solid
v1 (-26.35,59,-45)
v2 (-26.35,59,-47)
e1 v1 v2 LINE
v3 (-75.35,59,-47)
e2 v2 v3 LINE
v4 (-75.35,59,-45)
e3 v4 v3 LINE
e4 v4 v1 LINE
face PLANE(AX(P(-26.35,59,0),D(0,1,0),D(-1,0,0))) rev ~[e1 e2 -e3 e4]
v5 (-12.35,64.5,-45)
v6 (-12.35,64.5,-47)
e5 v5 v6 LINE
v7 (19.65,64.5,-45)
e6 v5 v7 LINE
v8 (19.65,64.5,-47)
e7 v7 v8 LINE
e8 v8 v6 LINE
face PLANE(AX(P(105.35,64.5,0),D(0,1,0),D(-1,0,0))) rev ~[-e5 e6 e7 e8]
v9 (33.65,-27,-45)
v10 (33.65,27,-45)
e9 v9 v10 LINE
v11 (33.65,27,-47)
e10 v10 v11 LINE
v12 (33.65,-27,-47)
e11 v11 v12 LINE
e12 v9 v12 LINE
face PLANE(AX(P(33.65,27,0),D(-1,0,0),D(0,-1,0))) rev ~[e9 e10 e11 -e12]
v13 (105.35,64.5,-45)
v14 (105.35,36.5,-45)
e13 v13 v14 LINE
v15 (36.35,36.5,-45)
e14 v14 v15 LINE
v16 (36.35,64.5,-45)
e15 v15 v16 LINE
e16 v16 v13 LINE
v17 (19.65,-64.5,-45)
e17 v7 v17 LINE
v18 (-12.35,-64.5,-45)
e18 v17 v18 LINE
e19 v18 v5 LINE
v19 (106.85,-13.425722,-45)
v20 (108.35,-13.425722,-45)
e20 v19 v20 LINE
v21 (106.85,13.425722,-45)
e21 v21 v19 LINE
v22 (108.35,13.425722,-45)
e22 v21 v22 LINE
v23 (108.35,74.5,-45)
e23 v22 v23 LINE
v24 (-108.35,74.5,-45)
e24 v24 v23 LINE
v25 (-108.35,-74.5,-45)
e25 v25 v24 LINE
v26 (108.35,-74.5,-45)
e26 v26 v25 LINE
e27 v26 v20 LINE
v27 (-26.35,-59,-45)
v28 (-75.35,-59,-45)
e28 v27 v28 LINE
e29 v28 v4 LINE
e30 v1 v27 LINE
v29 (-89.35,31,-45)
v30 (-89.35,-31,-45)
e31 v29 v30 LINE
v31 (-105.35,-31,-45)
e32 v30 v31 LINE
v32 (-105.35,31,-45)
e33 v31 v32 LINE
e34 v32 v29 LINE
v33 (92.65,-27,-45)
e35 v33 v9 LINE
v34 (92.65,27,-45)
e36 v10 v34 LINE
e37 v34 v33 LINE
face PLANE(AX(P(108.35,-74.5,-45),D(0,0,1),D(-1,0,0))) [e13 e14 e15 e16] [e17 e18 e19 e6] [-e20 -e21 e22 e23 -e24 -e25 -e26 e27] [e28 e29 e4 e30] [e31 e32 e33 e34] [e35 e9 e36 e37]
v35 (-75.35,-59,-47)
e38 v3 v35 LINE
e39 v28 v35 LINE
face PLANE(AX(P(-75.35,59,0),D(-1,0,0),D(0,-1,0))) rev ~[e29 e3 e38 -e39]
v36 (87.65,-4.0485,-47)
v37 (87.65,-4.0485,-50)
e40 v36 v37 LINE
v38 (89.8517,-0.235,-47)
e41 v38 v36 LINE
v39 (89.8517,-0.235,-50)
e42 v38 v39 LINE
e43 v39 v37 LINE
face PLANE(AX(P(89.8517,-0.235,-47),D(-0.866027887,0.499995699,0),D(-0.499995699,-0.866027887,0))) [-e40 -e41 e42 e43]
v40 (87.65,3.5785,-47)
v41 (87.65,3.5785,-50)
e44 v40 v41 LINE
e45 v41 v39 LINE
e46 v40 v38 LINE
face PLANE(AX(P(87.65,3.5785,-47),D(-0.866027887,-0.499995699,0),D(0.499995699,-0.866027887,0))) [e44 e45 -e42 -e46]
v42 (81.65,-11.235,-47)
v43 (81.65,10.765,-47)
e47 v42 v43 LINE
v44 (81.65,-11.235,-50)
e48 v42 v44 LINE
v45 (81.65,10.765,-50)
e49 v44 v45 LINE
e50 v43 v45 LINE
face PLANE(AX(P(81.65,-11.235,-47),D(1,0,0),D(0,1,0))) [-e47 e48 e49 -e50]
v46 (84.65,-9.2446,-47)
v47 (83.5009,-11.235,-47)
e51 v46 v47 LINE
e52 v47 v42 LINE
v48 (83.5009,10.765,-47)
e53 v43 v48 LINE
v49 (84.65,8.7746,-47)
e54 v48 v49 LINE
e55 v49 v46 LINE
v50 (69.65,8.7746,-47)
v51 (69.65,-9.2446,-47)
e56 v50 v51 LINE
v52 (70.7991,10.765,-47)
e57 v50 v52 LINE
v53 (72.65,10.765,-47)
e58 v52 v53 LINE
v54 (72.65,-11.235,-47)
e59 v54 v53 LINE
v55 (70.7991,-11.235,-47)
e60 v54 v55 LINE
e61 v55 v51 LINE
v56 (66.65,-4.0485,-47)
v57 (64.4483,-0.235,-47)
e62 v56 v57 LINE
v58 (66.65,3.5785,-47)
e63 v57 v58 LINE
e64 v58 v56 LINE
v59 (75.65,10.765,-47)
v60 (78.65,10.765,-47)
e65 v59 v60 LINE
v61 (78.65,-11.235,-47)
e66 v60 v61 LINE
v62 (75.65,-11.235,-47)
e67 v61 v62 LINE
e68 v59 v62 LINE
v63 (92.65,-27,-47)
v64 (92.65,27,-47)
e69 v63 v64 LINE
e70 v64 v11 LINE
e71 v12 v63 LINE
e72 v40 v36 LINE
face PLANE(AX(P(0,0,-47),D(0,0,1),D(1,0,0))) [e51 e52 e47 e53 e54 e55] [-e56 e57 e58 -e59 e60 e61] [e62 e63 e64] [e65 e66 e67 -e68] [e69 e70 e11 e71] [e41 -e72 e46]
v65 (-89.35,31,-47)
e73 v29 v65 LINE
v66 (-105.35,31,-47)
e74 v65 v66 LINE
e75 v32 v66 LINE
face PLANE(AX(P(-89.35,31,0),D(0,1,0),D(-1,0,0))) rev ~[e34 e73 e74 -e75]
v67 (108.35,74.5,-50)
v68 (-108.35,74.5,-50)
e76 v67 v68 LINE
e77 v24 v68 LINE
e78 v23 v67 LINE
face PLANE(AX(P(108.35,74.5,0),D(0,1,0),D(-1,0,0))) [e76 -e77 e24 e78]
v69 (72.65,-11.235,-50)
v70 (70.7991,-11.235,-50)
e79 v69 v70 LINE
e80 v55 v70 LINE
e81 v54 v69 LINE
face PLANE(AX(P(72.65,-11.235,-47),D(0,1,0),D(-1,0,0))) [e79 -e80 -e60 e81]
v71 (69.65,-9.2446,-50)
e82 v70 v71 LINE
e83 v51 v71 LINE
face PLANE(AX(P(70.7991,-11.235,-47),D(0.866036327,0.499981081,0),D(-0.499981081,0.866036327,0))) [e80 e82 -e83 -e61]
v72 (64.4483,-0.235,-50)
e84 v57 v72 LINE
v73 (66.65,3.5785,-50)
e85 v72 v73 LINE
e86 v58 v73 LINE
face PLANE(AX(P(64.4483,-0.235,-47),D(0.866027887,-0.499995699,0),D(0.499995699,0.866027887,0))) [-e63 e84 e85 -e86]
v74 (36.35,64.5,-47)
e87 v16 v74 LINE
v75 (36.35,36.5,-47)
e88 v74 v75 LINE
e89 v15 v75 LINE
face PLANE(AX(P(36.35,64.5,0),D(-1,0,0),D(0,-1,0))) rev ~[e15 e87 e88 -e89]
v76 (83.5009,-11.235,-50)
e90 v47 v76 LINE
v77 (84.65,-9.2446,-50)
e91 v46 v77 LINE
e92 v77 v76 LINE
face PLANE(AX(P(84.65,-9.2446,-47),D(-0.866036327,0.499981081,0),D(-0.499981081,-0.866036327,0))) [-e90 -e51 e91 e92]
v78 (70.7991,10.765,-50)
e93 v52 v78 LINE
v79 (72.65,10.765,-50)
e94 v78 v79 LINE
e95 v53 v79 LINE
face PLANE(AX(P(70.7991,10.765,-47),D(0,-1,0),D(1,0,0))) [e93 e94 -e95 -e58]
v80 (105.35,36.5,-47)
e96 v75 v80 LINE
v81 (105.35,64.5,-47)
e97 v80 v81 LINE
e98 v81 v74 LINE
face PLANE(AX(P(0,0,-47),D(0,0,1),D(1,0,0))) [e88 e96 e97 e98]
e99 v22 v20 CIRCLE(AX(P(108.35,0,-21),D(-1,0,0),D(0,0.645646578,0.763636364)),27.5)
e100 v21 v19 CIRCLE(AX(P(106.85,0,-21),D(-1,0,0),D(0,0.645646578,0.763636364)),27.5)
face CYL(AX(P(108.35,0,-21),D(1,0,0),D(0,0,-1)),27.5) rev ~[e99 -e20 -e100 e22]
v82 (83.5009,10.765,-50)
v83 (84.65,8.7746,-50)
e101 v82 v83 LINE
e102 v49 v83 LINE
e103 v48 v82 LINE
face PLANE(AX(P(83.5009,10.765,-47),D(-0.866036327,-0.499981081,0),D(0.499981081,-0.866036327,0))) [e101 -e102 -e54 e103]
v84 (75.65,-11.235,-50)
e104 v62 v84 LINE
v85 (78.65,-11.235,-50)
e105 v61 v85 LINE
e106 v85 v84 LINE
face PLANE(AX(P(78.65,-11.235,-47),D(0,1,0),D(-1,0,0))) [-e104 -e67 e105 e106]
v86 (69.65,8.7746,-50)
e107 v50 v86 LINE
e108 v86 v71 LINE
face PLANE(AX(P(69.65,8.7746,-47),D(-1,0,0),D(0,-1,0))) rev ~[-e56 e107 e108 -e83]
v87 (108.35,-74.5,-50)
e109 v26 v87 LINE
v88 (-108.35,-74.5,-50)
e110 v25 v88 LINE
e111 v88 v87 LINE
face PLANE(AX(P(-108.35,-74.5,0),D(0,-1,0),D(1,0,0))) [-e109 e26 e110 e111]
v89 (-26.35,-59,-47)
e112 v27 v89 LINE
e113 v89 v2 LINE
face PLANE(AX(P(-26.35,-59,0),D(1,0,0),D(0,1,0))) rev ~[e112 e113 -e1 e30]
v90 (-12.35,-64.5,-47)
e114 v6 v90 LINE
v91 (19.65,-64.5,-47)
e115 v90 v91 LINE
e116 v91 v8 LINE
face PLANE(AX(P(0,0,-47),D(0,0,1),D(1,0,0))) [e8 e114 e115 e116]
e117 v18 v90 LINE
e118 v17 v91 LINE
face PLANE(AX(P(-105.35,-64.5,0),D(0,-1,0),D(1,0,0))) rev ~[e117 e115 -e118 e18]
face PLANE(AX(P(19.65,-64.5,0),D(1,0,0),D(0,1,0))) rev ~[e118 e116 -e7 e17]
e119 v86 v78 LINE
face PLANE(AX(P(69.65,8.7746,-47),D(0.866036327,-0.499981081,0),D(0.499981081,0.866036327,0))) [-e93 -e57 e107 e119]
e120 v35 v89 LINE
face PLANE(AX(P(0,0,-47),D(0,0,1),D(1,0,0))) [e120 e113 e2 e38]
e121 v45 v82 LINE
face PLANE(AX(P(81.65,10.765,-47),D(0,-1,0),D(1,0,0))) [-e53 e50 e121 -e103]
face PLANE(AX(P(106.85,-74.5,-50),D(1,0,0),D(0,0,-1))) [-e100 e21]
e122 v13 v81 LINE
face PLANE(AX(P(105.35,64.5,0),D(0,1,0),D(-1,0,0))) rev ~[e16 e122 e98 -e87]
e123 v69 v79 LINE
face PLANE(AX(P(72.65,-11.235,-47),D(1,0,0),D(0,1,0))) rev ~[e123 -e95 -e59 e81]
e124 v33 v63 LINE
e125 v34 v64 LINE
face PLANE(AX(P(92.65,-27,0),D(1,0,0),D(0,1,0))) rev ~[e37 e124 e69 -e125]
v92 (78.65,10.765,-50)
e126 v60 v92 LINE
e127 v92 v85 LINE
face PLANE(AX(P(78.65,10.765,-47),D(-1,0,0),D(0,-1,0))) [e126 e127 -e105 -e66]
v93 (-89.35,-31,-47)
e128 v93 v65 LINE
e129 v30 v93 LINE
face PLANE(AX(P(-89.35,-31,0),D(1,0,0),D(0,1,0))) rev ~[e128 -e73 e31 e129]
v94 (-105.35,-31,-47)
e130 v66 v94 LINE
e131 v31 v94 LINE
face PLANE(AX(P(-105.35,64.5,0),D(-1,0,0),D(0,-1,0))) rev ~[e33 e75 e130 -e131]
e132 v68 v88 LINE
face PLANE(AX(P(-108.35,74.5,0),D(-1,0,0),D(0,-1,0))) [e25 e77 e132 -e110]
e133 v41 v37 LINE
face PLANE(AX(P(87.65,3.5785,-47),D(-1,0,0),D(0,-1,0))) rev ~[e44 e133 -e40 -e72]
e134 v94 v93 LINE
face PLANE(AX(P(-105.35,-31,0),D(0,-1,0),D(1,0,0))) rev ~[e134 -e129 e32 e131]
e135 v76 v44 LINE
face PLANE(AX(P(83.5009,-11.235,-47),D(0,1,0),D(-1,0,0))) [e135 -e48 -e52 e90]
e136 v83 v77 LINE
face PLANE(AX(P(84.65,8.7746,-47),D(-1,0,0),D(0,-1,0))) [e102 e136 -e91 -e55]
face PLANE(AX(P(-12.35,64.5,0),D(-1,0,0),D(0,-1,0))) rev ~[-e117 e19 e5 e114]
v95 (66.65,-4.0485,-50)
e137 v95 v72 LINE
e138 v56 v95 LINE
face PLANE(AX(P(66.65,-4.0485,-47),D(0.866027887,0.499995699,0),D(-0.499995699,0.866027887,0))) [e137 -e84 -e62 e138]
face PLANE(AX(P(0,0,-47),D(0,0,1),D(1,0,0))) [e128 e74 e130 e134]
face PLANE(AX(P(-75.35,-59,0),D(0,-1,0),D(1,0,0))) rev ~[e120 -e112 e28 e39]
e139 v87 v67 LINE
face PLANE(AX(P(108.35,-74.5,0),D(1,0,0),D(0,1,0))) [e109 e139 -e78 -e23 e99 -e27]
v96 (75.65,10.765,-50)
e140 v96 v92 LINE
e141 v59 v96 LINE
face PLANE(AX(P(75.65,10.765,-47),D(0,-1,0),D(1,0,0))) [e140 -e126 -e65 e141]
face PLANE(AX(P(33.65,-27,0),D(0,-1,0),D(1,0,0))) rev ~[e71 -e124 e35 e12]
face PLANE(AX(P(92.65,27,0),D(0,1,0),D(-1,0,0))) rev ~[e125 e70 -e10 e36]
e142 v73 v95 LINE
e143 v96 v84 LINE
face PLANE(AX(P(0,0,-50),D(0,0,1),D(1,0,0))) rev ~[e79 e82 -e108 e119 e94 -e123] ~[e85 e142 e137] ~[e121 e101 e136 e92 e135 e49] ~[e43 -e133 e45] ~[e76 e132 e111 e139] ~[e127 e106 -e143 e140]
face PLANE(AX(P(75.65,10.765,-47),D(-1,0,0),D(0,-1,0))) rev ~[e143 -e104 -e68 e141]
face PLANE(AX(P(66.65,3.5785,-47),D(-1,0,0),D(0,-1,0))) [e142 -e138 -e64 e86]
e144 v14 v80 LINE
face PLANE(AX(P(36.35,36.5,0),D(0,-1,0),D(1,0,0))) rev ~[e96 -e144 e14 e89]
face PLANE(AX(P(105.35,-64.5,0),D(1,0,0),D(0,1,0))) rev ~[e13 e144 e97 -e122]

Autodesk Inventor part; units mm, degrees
ref_plane "YZ Plane" through (0, 0, 0) normal (1, 0, 0) x (0, 1, 0)
ref_plane "XZ Plane" through (0, 0, 0) normal (0, 1, 0) x (-1, 0, 0)
ref_plane "XY Plane" through (0, 0, 0) normal (0, 0, 1) x (1, 0, 0)
sketch "Sketch1" plane through (0, 0, 0) normal (0, 0, 1) x (1, 0, 0)
  line L0 (-108.35, -74.5) -> (108.35, -74.5)
  line L1 (108.35, -74.5) -> (108.35, 74.5)
  line L2 (108.35, 74.5) -> (-108.35, 74.5)
  line L3 (-108.35, 74.5) -> (-108.35, -74.5)
  line L4 (-108.35, -74.5) -> (108.35, 74.5) construction
  line L5 (108.35, -74.5) -> (-108.35, 74.5) construction
  point P0 (0, 0)
  dimension "d0" = 216.7
  dimension "d1" = 149
extrude "MainInnerBodyExtrusion" add sketch "Sketch1" against normal blind 50
sketch "Sketch3" plane through (0, 0, 0) normal (0, 0, 1) x (1, 0, 0)
  line L0 (33.65, -27) -> (92.65, -27)
  line L1 (92.65, -27) -> (92.65, 27)
  line L2 (92.65, 27) -> (33.65, 27)
  line L3 (33.65, 27) -> (33.65, -27)
  line L4 (33.65, -27) -> (92.65, 27) construction
  line L5 (92.65, -27) -> (33.65, 27) construction
  line L6 (108.35, -74.5) -> (108.35, 74.5) projected
  line L7 (0, 0) -> (108.35, 0) construction
  line L8 (-108.35, -74.5) -> (-108.35, 74.5) construction
  line L9 (-108.35, 74.5) -> (-108.35, -74.5) projected
  point P0 (63.15, 0)
  point P1 (63.15, 0)
  dimension "d5" = 15.7
  dimension "d6" = 54
  dimension "d7" = 59
extrude "HoleForCamerabase" cut sketch "Sketch3" against normal blind 47
sketch "Sketch4" plane through (0, 0, 0) normal (0, 0, 1) x (1, 0, 0)
  line L0 (0, 0) -> (-108.35, 0) construction
  line L1 (-108.35, -74.5) -> (-108.35, 74.5) construction
  line L2 (-105.35, -31) -> (-89.35, -31)
  line L3 (-89.35, -31) -> (-89.35, 31)
  line L4 (-89.35, 31) -> (-105.35, 31)
  line L5 (-105.35, 31) -> (-105.35, -31)
  line L6 (-105.35, -31) -> (-89.35, 31) construction
  line L7 (-89.35, -31) -> (-105.35, 31) construction
  point P0 (-97.35, 0)
  dimension "d13" = 16
  dimension "d14" = 62
  dimension "d15" = 3
extrude "HoleForFan" cut sketch "Sketch4" against normal blind 47
sketch "Sketch6" plane through (0, 0, 0) normal (0, 0, 1) x (1, 0, 0)
  line L0 (-108.35, -74.5) -> (-108.35, 74.5) construction
  line L1 (-108.35, 0) -> (108.35, 0) construction
  line L2 (108.35, 74.5) -> (108.35, -74.5) construction
  line L3 (-12.35, -64.5) -> (19.65, -64.5)
  line L4 (19.65, -64.5) -> (19.65, 64.5)
  line L5 (19.65, 64.5) -> (-12.35, 64.5)
  line L6 (-12.35, 64.5) -> (-12.35, -64.5)
  line L7 (-12.35, -64.5) -> (19.65, 64.5) construction
  line L8 (19.65, -64.5) -> (-12.35, 64.5) construction
  line L9 (33.65, -27) -> (33.65, 27) projected
  point P0 (0, 0)
  point P1 (3.65, 0)
  dimension "d20" = 32
  dimension "d21" = 129
  dimension "d88" = 14
extrude "HoleForPi" cut sketch "Sketch6" against normal blind 47
sketch "Sketch7" plane through (0, 0, 0) normal (0, 0, 1) x (1, 0, 0)
  line L0 (0, 0) -> (-108.35, 0) construction
  line L1 (-108.35, 74.5) -> (-108.35, -74.5) construction
  line L2 (-75.35, -59) -> (-26.35, -59)
  line L3 (-26.35, -59) -> (-26.35, 59)
  line L4 (-26.35, 59) -> (-75.35, 59)
  line L5 (-75.35, 59) -> (-75.35, -59)
  line L6 (-75.35, -59) -> (-26.35, 59) construction
  line L7 (-26.35, -59) -> (-75.35, 59) construction
  line L8 (-12.35, -64.5) -> (-12.35, 64.5) projected
  line L9 (-89.35, 31) -> (-89.35, -31) construction
  point P0 (-50.85, 0)
  dimension "d25" = 14
  dimension "d26" = 49
  dimension "d27" = 118
extrude "HoleForPoeAdapter" cut sketch "Sketch7" against normal blind 47
sketch "Sketch10" plane through (0, 0, 0) normal (0, 0, 1) x (1, 0, 0)
  line L0 (36.35, 36.5) -> (105.35, 36.5)
  line L1 (105.35, 36.5) -> (105.35, 64.5)
  line L2 (105.35, 64.5) -> (36.35, 64.5)
  line L3 (36.35, 64.5) -> (36.35, 36.5)
  line L4 (36.35, 36.5) -> (105.35, 64.5) construction
  line L5 (105.35, 36.5) -> (36.35, 64.5) construction
  line L6 (108.35, 74.5) -> (-108.35, 74.5) projected
  line L7 (108.35, -74.5) -> (108.35, 74.5) projected
  point P0 (0, 0)
  point P1 (70.85, 50.5)
  point P2 (94.85, 8.5)
  point P3 (105.35, 50.5)
  dimension "d36" = 69
  dimension "d37" = 28
  dimension "d85" = 3
extrude "HoleForThermister" cut sketch "Sketch10" against normal blind 47
sketch "Sketch11" plane through (0, 0, 0) normal (0, 0, 1) x (1, 0, 0)
  line L0 (55.35, -64.5) -> (105.35, -64.5)
  line L1 (105.35, -64.5) -> (105.35, -47.5)
  line L2 (105.35, -47.5) -> (55.35, -47.5)
  line L3 (55.35, -47.5) -> (55.35, -64.5)
  line L4 (55.35, -64.5) -> (105.35, -47.5) construction
  line L5 (105.35, -64.5) -> (55.35, -47.5) construction
  line L6 (108.35, -74.5) -> (108.35, 74.5) projected
  line L7 (-108.35, -74.5) -> (108.35, -74.5) projected
  line L8 (92.65, -27) -> (33.65, -27) projected
  line L9 (19.65, 64.5) -> (19.65, -64.5) projected
  point P0 (0, 0)
  point P1 (80.35, -56)
  point P2 (94.85, -8.5)
  point P3 (80.35, -47.5)
  point P4 (55.35, -56)
  point P5 (108.35, 74.5)
  dimension "d42" = 50
  dimension "d43" = 17
  dimension "d86" = 3
  dimension "d87" = 10
extrude "HoleForSensor" cut sketch "Sketch11" against normal blind 31.5
sketch "Sketch15" plane through (-108.35, -74.5, 0) normal (-1, 0, 0) x (0, 0, 1)
  line L0 (0, 149) -> (0, 0) projected
  line L1 (0, 149) -> (-50, 149) projected
  line L2 (-50, 0) -> (-50, 149) projected
  line L3 (0, 0) -> (-50, 0) projected
  line L4 (0, 0) -> (0, 149) projected
  line L5 (0, 101.5) -> (0, 47.5) projected
  line L6 (0, 74.5) -> (-30, 74.5) construction
  line L7 (0, 76.5) -> (-29.9333, 76.5)
  line L8 (0, 84.5) -> (-28.2843, 84.5)
  line L9 (0, 80.5) -> (-29.3939, 80.5)
  line L10 (0, 76.5) -> (0, 74.5)
  line L11 (0, 88.5) -> (-26.533, 88.5)
  line L12 (0, 92.5) -> (-24, 92.5)
  line L13 (-20.5913, 97.5) -> (0, 97.5)
  line L14 (-14.9666, 101.5) -> (0, 101.5)
  line L15 (0, 84.5) -> (0, 80.5)
  line L16 (0, 101.5) -> (0, 97.5)
  line L17 (0, 92.5) -> (0, 88.5)
  line L18 (0, 72.5) -> (-29.9333, 72.5)
  line L19 (0, 64.5) -> (-28.2843, 64.5)
  line L20 (0, 68.5) -> (-29.3939, 68.5)
  line L21 (0, 72.5) -> (0, 74.5)
  line L22 (0, 60.5) -> (-26.533, 60.5)
  line L23 (0, 56.5) -> (-24, 56.5)
  line L24 (-20.5913, 51.5) -> (0, 51.5)
  line L25 (-14.9666, 47.5) -> (0, 47.5)
  line L26 (0, 64.5) -> (0, 68.5)
  line L27 (0, 56.5) -> (0, 60.5)
  line L28 (0, 47.5) -> (0, 51.5)
  line L29 (0, 72.5) -> (0, 76.5)
  line L30 (0, 80.5) -> (0, 84.5)
  line L31 (0, 88.5) -> (0, 92.5)
  line L32 (0, 97.5) -> (0, 149)
  arc A0 (-28.2843, 84.5) -> (-29.3939, 80.5) centre (0, 74.5) ccw
  arc A1 (-14.9666, 101.5) -> (-20.5913, 97.5) centre (0, 74.5) ccw
  arc A2 (-24, 92.5) -> (-26.533, 88.5) centre (0, 74.5) ccw
  arc A3 (-29.9333, 76.5) -> (-29.9333, 72.5) centre (0, 74.5) ccw
  arc A4 (-29.3939, 68.5) -> (-28.2843, 64.5) centre (0, 74.5) ccw
  arc A5 (-26.533, 60.5) -> (-24, 56.5) centre (0, 74.5) ccw
  arc A6 (-20.5913, 51.5) -> (-14.9666, 47.5) centre (0, 74.5) ccw
  point P0 (0, 74.5)
  point P1 (0, 82)
  point P2 (0, 67.0167)
  point P3 (0, 4.25)
  point P4 (-10.2956, 97.5)
  point P5 (0, 47.5)
  point P6 (0, 51.5)
  point P7 (0, 56.5)
  point P8 (0, 60.5)
  point P9 (0, 64.5)
  point P10 (0, 68.5)
  point P11 (0, 72.5)
  point P12 (0, 80.5)
  point P13 (0, 84.5)
  point P14 (0, 88.5)
  point P15 (0, 92.5)
  point P16 (0, 97.5)
  dimension "d69" = 2
  dimension "d71" = 4
  dimension "d72" = 4
  dimension "d73" = 4
  dimension "d75" = 4
  dimension "d142" = 30
extrude "SlotsForRearFan" cut sketch "Sketch15" against normal up to surface (3 mm away) contours L0 L13 A1 L14 | L0 L11 A2 L12 | L25 A6 L24 L0 | L0 L9 A0 L8 | L23 A5 L22 L0 | L0 L18 A3 L7 | L19 A4 L20 L0
sketch "Sketch16" plane through (0, 0, -47) normal (0, 0, 1) x (1, 0, 0)
  line L0 (92.65, 27) -> (92.65, -27) projected
  line L1 (77.15, 10.765) -> (77.15, -11.235) construction
  line L2 (75.65, 10.765) -> (75.65, -11.235)
  line L3 (72.65, -11.235) -> (72.65, 10.765)
  line L4 (69.65, 8.7746) -> (69.65, -9.2446)
  line L5 (66.65, 3.5785) -> (66.65, -4.0485)
  line L6 (78.65, 10.765) -> (78.65, -11.235)
  line L7 (81.65, -11.235) -> (81.65, 10.765)
  line L8 (84.65, 8.7746) -> (84.65, -9.2446)
  line L9 (87.65, 3.5785) -> (87.65, -4.0485)
  line L10 (70.7991, 10.765) -> (72.65, 10.765)
  line L11 (72.65, -11.235) -> (70.7991, -11.235)
  line L12 (70.7991, -11.235) -> (69.65, -9.2446)
  line L13 (66.65, -4.0485) -> (64.4483, -0.235)
  line L14 (64.4483, -0.235) -> (66.65, 3.5785)
  line L15 (69.65, 8.7746) -> (70.7991, 10.765)
  line L16 (75.65, 10.765) -> (78.65, 10.765)
  line L17 (81.65, 10.765) -> (83.5009, 10.765)
  line L18 (83.5009, -11.235) -> (81.65, -11.235)
  line L19 (78.65, -11.235) -> (75.65, -11.235)
  line L20 (89.8517, -0.235) -> (87.65, -4.0485)
  line L21 (84.65, -9.2446) -> (83.5009, -11.235)
  line L22 (83.5009, 10.765) -> (84.65, 8.7746)
  line L23 (87.65, 3.5785) -> (89.8517, -0.235)
  point P0 (0, 0)
  point P1 (77.15, -0.235)
  point P2 (66.65, -0.235)
  dimension "d78" = 15.5
  dimension "d89" = 1.5
  dimension "d90" = 3
  dimension "d91" = 3
  dimension "d92" = 3
extrude "VentForCamera" cut sketch "Sketch16" against normal through all
sketch "Sketch18" plane through (108.35, -74.5, 0) normal (1, 0, 0) x (0, 0, -1)
  line L0 (0, 74.5) -> (29.6767, 74.5) construction
  arc A0 (24, 66.5) -> (24, 82.5) centre (24, 74.5) ccw
  line L1 (0, 0) -> (0, 149) projected
  line L2 (24, 82.5) -> (0, 82.5)
  line L3 (24, 66.5) -> (0, 66.5)
  line L4 (0, 82.5) -> (0, 66.5)
  point P0 (0, 74.5)
  dimension "d97" = 16
  dimension "d137" = 24
extrude "HoleForLens" cut sketch "Sketch18" against normal up to surface (15.7 mm away)
sketch "Sketch23" plane through (0, 0, 0) normal (0, 0, 1) x (1, 0, 0)
  line L0 (-103.35, -69.5) -> (103.35, -69.5) construction
  line L1 (103.35, -69.5) -> (103.35, 69.5) construction
  line L2 (103.35, 69.5) -> (-103.35, 69.5) construction
  line L3 (-103.35, 69.5) -> (-103.35, -69.5) construction
  line L4 (-103.35, -69.5) -> (103.35, 69.5) construction
  line L5 (103.35, -69.5) -> (-103.35, 69.5) construction
  line L6 (108.35, -74.5) -> (108.35, -8) projected
  line L7 (108.35, 74.5) -> (-108.35, 74.5) projected
  line L8 (-108.35, -27) -> (-108.35, -74.5) projected
  line L9 (-108.35, 74.5) -> (-108.35, 27) projected
  line L10 (108.35, 8) -> (108.35, 74.5) projected
  point P0 (0, 0)
  point P1 (32.15, -69.5)
  point P2 (-32.15, -69.5)
  point P3 (-32.15, 69.5)
  point P4 (32.15, 69.5)
  dimension "d106" = 5
  dimension "d108" = 5
  dimension "d222" = 76.2
  dimension "d223" = 76.2
  dimension "d224" = 76.2
  dimension "d225" = 76.2
hole "Hole for 6-32 Insert" at (-103.35, 69.5, 0) at (103.35, 69.5, 0) at (103.35, -69.5, 0) at (-103.35, -69.5, 0) at (-32.15, -69.5, 0) at (32.15, -69.5, 0) at (-32.15, 69.5, 0) at (32.15, 69.5, 0) direction (0, 0, -1) diameter 4.7 depth 7.2 tip angle 118 counterbore diameter 5.54 counterbore depth 5.55
hole "Screw hole for 6-32 screw" at (-103.35, -69.5, 0) at (103.35, -69.5, 0) at (103.35, 69.5, 0) at (-103.35, 69.5, 0) direction (0, 0, -1) diameter 3.797 depth 15 tip angle 118 clearance for "Hex Machine Screw" size "#6" standard "Ansi Unified Screw Threads"
sketch "Sketch24" plane through (-108.35, -74.5, 0) normal (0, -1, 0) x (1, 0, 0)
  line L0 (0, -50) -> (216.7, -50) construction
  line L1 (216.7, 0) -> (201, 0) construction
  line L2 (0, 0) -> (0, -50) projected
  line L3 (108.35, -25) -> (0, -25) construction
  line L4 (108.35, -25) -> (216.7, -24.9775) construction
  line L5 (216.7, 0) -> (216.7, -50) construction
  point P0 (108.35, 0)
  dimension "d226" = 25
  dimension "d227" = 108.35
hole "Side hole for 1-4 20 insert" at (0, -74.5, -25) direction (0, 1, 0) diameter 7.666 depth 9.53 tip angle 118 counterbore diameter 8.406 counterbore depth 7.41 clearance for "Hex Machine Screw" size "1/4" standard "Ansi Unified Screw Threads"
mirror "Mirror for side insert" about plane through (0, 0, 0) normal (0, 1, 0) of "Side hole for 1-4 20 insert"
sketch "Sketch25" plane through (0, 0, 0) normal (0, 0, 1) x (1, 0, 0)
  line L0 (108.35, 74.5) -> (-108.35, 74.5) projected
  line L1 (-108.35, 74.5) -> (-108.35, 27) projected
  line L2 (-108.35, -74.5) -> (108.35, -74.5) projected
  line L3 (78.65, -11.235) -> (75.65, -11.235) projected
  line L4 (75.65, -11.235) -> (75.65, 10.765) projected
  line L5 (75.65, 10.765) -> (78.65, 10.765) projected
  line L6 (78.65, 10.765) -> (78.65, -11.235) projected
  line L7 (70.7991, 10.765) -> (72.65, 10.765) projected
  line L8 (72.65, 10.765) -> (72.65, -11.235) projected
  line L9 (72.65, -11.235) -> (70.7991, -11.235) projected
  line L10 (70.7991, -11.235) -> (69.65, -9.2446) projected
  line L11 (69.65, -9.2446) -> (69.65, 8.7746) projected
  line L12 (69.65, 8.7746) -> (70.7991, 10.765) projected
  line L13 (84.65, 8.7746) -> (84.65, -9.2446) projected
  line L14 (84.65, -9.2446) -> (83.5009, -11.235) projected
  line L15 (83.5009, -11.235) -> (81.65, -11.235) projected
  line L16 (81.65, -11.235) -> (81.65, 10.765) projected
  line L17 (81.65, 10.765) -> (83.5009, 10.765) projected
  line L18 (83.5009, 10.765) -> (84.65, 8.7746) projected
  line L19 (66.65, 3.5785) -> (66.65, -4.0485) projected
  line L20 (66.65, -4.0485) -> (64.4483, -0.235) projected
  line L21 (64.4483, -0.235) -> (66.65, 3.5785) projected
  line L22 (89.8517, -0.235) -> (87.65, -4.0485) projected
  line L23 (87.65, -4.0485) -> (87.65, 3.5785) projected
  line L24 (87.65, 3.5785) -> (89.8517, -0.235) projected
  line L25 (92.65, 27) -> (92.65, -27) projected
  line L26 (33.65, 27) -> (92.65, 27) projected
  line L27 (33.65, -27) -> (33.65, 27) projected
  line L28 (92.65, -27) -> (33.65, -27) projected
  line L29 (108.35, -74.5) -> (108.35, -8) projected
  line L30 (108.35, 8) -> (108.35, 74.5) projected
  line L31 (-105.35, -64.5) -> (105.35, -64.5)
  line L32 (105.35, -64.5) -> (105.35, 64.5)
  line L33 (105.35, 64.5) -> (-105.35, 64.5)
  line L34 (-105.35, 64.5) -> (-105.35, -64.5)
  line L35 (-105.35, -64.5) -> (105.35, 64.5) construction
  line L36 (105.35, -64.5) -> (-105.35, 64.5) construction
  line L37 (-26.35, 59) -> (-26.35, -59) projected
  point P0 (0, 0)
  dimension "d138" = 10
  dimension "d139" = 3
extrude "Extrusion18" cut sketch "Sketch25" against normal blind 25 contours L34 L33 L32 L31
sketch "Sketch26" plane through (-108.35, -74.5, -50) normal (-1, 0, 0) x (0, 0, 1)
  arc A0 (50, 124) -> (50, 134) centre (50, 129) ccw
  circle A1 centre (50, 129) radius 5
  point P0 (50, 74.5)
  point P1 (50, 124)
extrude "Extrusion19" cut sketch "Sketch26" against normal up to surface (3 mm away)
sketch "Sketch30" plane through (108.35, -74.5, -50) normal (1, 0, 0) x (0, 0, -1)
  circle A0 centre (-29, 74.5) radius 27.5
  line L0 (0, 149) -> (0, 0) projected
  circle A1 centre (-29, 74.5) radius 23
  line L1 (-50, 0) -> (-50, 66.5) projected
  point P0 (-50, 74.5)
  dimension "d162" = 55
  dimension "d163" = 29
  dimension "d164" = 46
  dimension "d165" = 21
extrude "Extrusion20" cut sketch "Sketch30" against normal blind 1.5
sketch "Sketch35" plane through (108.35, -74.5, -50) normal (1, 0, 0) x (0, 0, -1)
  circle A0 centre (-13, 5) radius 2.4257
  circle A1 centre (-13, 144) radius 2.4257
  line L0 (-50, 0) -> (0, 0) projected
  line L1 (-50, 149) -> (0, 149) projected
  line L2 (-3, 139) -> (-3, 10) projected
  point P0 (-50, 74.5)
  dimension "d215" = 4.8514
  dimension "d216" = 5
  dimension "d217" = 5
  dimension "d218" = 10
  dimension "d219" = 10
extrude "Extrusion21" cut sketch "Sketch35" against normal blind 9.525
sketch "Sketch36" plane through (-108.35, -74.5, 0) normal (0, -1, 0) x (1, 0, 0)
  line L0 (0, 0) -> (0, -50) projected
  line L1 (216.7, 0) -> (216.7, -50) projected
  line L2 (216.7, -50) -> (0, -50) projected
  line L3 (0, 0) -> (216.7, 0) projected
  line L4 (3, 0) -> (0, 0) projected
  line L5 (0, 0) -> (216.7, 0)
  line L6 (216.7, 0) -> (216.7, -45)
  line L7 (216.7, -45) -> (0, -45)
  line L8 (0, -45) -> (0, 0)
  point P0 (108.35, 0)
  point P1 (0, -45)
  dimension "d228" = 45
extrude "Extrusion22" cut sketch "Sketch36" against normal through all contours L3 L1 L7 L0
equation "\"d0\" = newCaseLength"
equation "\"d1\" = caseWidth"
equation "\"d2\" = caseDepth"
equation "\"d5\" = lensLength"
equation "\"d6\" = cameraWidth"
equation "\"d7\" = cameraLength"
equation "\"d8\" = maxComponentDepth"
equation "\"d13\" = fanDepth"
equation "\"d14\" = fanWidth"
equation "\"d15\" = rearWallThickness"
equation "\"d16\" = maxComponentDepth"
equation "\"d20\" = piCaseDepth"
equation "\"d21\" = piCaseLength"
equation "\"d88\" = minDelta"
equation "\"d22\" = maxComponentDepth"
equation "\"d25\" = minDelta"
equation "\"d26\" = poeWidth"
equation "\"d27\" = poeLength"
equation "\"d28\" = maxComponentDepth"
equation "\"d36\" = thermisterLength"
equation "\"d37\" = thermisterWidth"
equation "\"d85\" = frontWallThickness"
equation "\"d38\" = maxComponentDepth"
equation "\"d42\" = sensorLength"
equation "\"d43\" = sensorWidth"
equation "\"d86\" = frontWallThickness"
equation "\"d87\" = outsideWallThickness"
equation "\"d46\" = cutoutDepth"
equation "\"outsideWallThickness\" = 10"
equation "\"caseWidth\" = piCaseLength + 2 * outsideWallThickness"
equation "\"cameraWidth\" = 54"
equation "\"oneHalfCaseDepth\" = piCaseWidth"
equation "\"caseLength\" = 189.7"
equation "\"cameraLength\" = 59"
equation "\"lensLength\" = 15.7"
equation "\"piCaseWidth\" = 63"
equation "\"piCaseDepth\" = 32"
equation "\"poeDepth\" = 38"
equation "\"piEthernetCableReliefLength\" = 35"
equation "\"poeEthernetCableReliefLength\" = 35"
equation "\"thermisterDepth\" = 18"
equation "\"sensorDepth\" = 11"
equation "\"cutoutDepth\" = 0.5 * piCaseWidth"
equation "\"thickenDistance\" = 1"
equation "\"bottomOfCaseWallThickness\" = 3"
equation "\"rearWallThickness\" = 3"
equation "\"maxComponentDepth\" = extraCutoutDepth + 0.5 * piCaseWidth"
equation "\"caseDepth\" = maxComponentDepth + bottomOfCaseWallThickness"
equation "\"minDelta\" = 14"
equation "\"fanCutoutDepth\" = 0.5 * fanLength + extraCutoutDepth + thickenDistance"
equation "\"newCaseLength\" = cameraLength + piCaseDepth + fanDepth + poeWidth + rearWallThickness + 3 * minDelta + lensLength"
equation "\"frontWallThickness\" = 3"
equation "\"d95\" = lensDiameter"
equation "\"extraCutoutDepth\" = 15.5"
equation "\"fanDepth\" = 16"
equation "\"fanWidth\" = 62"
equation "\"piCaseLength\" = 129"
equation "\"poeWidth\" = 49"
equation "\"poeLength\" = 118"
equation "\"thermisterLength\" = 69"
equation "\"thermisterWidth\" = 28"
equation "\"sensorLength\" = 50"
equation "\"sensorWidth\" = 17"
equation "\"fanLength\" = 60"
equation "\"lensDiameter\" = 15"
properties part number "TestPlate" material "PC/ABS Plastic"
